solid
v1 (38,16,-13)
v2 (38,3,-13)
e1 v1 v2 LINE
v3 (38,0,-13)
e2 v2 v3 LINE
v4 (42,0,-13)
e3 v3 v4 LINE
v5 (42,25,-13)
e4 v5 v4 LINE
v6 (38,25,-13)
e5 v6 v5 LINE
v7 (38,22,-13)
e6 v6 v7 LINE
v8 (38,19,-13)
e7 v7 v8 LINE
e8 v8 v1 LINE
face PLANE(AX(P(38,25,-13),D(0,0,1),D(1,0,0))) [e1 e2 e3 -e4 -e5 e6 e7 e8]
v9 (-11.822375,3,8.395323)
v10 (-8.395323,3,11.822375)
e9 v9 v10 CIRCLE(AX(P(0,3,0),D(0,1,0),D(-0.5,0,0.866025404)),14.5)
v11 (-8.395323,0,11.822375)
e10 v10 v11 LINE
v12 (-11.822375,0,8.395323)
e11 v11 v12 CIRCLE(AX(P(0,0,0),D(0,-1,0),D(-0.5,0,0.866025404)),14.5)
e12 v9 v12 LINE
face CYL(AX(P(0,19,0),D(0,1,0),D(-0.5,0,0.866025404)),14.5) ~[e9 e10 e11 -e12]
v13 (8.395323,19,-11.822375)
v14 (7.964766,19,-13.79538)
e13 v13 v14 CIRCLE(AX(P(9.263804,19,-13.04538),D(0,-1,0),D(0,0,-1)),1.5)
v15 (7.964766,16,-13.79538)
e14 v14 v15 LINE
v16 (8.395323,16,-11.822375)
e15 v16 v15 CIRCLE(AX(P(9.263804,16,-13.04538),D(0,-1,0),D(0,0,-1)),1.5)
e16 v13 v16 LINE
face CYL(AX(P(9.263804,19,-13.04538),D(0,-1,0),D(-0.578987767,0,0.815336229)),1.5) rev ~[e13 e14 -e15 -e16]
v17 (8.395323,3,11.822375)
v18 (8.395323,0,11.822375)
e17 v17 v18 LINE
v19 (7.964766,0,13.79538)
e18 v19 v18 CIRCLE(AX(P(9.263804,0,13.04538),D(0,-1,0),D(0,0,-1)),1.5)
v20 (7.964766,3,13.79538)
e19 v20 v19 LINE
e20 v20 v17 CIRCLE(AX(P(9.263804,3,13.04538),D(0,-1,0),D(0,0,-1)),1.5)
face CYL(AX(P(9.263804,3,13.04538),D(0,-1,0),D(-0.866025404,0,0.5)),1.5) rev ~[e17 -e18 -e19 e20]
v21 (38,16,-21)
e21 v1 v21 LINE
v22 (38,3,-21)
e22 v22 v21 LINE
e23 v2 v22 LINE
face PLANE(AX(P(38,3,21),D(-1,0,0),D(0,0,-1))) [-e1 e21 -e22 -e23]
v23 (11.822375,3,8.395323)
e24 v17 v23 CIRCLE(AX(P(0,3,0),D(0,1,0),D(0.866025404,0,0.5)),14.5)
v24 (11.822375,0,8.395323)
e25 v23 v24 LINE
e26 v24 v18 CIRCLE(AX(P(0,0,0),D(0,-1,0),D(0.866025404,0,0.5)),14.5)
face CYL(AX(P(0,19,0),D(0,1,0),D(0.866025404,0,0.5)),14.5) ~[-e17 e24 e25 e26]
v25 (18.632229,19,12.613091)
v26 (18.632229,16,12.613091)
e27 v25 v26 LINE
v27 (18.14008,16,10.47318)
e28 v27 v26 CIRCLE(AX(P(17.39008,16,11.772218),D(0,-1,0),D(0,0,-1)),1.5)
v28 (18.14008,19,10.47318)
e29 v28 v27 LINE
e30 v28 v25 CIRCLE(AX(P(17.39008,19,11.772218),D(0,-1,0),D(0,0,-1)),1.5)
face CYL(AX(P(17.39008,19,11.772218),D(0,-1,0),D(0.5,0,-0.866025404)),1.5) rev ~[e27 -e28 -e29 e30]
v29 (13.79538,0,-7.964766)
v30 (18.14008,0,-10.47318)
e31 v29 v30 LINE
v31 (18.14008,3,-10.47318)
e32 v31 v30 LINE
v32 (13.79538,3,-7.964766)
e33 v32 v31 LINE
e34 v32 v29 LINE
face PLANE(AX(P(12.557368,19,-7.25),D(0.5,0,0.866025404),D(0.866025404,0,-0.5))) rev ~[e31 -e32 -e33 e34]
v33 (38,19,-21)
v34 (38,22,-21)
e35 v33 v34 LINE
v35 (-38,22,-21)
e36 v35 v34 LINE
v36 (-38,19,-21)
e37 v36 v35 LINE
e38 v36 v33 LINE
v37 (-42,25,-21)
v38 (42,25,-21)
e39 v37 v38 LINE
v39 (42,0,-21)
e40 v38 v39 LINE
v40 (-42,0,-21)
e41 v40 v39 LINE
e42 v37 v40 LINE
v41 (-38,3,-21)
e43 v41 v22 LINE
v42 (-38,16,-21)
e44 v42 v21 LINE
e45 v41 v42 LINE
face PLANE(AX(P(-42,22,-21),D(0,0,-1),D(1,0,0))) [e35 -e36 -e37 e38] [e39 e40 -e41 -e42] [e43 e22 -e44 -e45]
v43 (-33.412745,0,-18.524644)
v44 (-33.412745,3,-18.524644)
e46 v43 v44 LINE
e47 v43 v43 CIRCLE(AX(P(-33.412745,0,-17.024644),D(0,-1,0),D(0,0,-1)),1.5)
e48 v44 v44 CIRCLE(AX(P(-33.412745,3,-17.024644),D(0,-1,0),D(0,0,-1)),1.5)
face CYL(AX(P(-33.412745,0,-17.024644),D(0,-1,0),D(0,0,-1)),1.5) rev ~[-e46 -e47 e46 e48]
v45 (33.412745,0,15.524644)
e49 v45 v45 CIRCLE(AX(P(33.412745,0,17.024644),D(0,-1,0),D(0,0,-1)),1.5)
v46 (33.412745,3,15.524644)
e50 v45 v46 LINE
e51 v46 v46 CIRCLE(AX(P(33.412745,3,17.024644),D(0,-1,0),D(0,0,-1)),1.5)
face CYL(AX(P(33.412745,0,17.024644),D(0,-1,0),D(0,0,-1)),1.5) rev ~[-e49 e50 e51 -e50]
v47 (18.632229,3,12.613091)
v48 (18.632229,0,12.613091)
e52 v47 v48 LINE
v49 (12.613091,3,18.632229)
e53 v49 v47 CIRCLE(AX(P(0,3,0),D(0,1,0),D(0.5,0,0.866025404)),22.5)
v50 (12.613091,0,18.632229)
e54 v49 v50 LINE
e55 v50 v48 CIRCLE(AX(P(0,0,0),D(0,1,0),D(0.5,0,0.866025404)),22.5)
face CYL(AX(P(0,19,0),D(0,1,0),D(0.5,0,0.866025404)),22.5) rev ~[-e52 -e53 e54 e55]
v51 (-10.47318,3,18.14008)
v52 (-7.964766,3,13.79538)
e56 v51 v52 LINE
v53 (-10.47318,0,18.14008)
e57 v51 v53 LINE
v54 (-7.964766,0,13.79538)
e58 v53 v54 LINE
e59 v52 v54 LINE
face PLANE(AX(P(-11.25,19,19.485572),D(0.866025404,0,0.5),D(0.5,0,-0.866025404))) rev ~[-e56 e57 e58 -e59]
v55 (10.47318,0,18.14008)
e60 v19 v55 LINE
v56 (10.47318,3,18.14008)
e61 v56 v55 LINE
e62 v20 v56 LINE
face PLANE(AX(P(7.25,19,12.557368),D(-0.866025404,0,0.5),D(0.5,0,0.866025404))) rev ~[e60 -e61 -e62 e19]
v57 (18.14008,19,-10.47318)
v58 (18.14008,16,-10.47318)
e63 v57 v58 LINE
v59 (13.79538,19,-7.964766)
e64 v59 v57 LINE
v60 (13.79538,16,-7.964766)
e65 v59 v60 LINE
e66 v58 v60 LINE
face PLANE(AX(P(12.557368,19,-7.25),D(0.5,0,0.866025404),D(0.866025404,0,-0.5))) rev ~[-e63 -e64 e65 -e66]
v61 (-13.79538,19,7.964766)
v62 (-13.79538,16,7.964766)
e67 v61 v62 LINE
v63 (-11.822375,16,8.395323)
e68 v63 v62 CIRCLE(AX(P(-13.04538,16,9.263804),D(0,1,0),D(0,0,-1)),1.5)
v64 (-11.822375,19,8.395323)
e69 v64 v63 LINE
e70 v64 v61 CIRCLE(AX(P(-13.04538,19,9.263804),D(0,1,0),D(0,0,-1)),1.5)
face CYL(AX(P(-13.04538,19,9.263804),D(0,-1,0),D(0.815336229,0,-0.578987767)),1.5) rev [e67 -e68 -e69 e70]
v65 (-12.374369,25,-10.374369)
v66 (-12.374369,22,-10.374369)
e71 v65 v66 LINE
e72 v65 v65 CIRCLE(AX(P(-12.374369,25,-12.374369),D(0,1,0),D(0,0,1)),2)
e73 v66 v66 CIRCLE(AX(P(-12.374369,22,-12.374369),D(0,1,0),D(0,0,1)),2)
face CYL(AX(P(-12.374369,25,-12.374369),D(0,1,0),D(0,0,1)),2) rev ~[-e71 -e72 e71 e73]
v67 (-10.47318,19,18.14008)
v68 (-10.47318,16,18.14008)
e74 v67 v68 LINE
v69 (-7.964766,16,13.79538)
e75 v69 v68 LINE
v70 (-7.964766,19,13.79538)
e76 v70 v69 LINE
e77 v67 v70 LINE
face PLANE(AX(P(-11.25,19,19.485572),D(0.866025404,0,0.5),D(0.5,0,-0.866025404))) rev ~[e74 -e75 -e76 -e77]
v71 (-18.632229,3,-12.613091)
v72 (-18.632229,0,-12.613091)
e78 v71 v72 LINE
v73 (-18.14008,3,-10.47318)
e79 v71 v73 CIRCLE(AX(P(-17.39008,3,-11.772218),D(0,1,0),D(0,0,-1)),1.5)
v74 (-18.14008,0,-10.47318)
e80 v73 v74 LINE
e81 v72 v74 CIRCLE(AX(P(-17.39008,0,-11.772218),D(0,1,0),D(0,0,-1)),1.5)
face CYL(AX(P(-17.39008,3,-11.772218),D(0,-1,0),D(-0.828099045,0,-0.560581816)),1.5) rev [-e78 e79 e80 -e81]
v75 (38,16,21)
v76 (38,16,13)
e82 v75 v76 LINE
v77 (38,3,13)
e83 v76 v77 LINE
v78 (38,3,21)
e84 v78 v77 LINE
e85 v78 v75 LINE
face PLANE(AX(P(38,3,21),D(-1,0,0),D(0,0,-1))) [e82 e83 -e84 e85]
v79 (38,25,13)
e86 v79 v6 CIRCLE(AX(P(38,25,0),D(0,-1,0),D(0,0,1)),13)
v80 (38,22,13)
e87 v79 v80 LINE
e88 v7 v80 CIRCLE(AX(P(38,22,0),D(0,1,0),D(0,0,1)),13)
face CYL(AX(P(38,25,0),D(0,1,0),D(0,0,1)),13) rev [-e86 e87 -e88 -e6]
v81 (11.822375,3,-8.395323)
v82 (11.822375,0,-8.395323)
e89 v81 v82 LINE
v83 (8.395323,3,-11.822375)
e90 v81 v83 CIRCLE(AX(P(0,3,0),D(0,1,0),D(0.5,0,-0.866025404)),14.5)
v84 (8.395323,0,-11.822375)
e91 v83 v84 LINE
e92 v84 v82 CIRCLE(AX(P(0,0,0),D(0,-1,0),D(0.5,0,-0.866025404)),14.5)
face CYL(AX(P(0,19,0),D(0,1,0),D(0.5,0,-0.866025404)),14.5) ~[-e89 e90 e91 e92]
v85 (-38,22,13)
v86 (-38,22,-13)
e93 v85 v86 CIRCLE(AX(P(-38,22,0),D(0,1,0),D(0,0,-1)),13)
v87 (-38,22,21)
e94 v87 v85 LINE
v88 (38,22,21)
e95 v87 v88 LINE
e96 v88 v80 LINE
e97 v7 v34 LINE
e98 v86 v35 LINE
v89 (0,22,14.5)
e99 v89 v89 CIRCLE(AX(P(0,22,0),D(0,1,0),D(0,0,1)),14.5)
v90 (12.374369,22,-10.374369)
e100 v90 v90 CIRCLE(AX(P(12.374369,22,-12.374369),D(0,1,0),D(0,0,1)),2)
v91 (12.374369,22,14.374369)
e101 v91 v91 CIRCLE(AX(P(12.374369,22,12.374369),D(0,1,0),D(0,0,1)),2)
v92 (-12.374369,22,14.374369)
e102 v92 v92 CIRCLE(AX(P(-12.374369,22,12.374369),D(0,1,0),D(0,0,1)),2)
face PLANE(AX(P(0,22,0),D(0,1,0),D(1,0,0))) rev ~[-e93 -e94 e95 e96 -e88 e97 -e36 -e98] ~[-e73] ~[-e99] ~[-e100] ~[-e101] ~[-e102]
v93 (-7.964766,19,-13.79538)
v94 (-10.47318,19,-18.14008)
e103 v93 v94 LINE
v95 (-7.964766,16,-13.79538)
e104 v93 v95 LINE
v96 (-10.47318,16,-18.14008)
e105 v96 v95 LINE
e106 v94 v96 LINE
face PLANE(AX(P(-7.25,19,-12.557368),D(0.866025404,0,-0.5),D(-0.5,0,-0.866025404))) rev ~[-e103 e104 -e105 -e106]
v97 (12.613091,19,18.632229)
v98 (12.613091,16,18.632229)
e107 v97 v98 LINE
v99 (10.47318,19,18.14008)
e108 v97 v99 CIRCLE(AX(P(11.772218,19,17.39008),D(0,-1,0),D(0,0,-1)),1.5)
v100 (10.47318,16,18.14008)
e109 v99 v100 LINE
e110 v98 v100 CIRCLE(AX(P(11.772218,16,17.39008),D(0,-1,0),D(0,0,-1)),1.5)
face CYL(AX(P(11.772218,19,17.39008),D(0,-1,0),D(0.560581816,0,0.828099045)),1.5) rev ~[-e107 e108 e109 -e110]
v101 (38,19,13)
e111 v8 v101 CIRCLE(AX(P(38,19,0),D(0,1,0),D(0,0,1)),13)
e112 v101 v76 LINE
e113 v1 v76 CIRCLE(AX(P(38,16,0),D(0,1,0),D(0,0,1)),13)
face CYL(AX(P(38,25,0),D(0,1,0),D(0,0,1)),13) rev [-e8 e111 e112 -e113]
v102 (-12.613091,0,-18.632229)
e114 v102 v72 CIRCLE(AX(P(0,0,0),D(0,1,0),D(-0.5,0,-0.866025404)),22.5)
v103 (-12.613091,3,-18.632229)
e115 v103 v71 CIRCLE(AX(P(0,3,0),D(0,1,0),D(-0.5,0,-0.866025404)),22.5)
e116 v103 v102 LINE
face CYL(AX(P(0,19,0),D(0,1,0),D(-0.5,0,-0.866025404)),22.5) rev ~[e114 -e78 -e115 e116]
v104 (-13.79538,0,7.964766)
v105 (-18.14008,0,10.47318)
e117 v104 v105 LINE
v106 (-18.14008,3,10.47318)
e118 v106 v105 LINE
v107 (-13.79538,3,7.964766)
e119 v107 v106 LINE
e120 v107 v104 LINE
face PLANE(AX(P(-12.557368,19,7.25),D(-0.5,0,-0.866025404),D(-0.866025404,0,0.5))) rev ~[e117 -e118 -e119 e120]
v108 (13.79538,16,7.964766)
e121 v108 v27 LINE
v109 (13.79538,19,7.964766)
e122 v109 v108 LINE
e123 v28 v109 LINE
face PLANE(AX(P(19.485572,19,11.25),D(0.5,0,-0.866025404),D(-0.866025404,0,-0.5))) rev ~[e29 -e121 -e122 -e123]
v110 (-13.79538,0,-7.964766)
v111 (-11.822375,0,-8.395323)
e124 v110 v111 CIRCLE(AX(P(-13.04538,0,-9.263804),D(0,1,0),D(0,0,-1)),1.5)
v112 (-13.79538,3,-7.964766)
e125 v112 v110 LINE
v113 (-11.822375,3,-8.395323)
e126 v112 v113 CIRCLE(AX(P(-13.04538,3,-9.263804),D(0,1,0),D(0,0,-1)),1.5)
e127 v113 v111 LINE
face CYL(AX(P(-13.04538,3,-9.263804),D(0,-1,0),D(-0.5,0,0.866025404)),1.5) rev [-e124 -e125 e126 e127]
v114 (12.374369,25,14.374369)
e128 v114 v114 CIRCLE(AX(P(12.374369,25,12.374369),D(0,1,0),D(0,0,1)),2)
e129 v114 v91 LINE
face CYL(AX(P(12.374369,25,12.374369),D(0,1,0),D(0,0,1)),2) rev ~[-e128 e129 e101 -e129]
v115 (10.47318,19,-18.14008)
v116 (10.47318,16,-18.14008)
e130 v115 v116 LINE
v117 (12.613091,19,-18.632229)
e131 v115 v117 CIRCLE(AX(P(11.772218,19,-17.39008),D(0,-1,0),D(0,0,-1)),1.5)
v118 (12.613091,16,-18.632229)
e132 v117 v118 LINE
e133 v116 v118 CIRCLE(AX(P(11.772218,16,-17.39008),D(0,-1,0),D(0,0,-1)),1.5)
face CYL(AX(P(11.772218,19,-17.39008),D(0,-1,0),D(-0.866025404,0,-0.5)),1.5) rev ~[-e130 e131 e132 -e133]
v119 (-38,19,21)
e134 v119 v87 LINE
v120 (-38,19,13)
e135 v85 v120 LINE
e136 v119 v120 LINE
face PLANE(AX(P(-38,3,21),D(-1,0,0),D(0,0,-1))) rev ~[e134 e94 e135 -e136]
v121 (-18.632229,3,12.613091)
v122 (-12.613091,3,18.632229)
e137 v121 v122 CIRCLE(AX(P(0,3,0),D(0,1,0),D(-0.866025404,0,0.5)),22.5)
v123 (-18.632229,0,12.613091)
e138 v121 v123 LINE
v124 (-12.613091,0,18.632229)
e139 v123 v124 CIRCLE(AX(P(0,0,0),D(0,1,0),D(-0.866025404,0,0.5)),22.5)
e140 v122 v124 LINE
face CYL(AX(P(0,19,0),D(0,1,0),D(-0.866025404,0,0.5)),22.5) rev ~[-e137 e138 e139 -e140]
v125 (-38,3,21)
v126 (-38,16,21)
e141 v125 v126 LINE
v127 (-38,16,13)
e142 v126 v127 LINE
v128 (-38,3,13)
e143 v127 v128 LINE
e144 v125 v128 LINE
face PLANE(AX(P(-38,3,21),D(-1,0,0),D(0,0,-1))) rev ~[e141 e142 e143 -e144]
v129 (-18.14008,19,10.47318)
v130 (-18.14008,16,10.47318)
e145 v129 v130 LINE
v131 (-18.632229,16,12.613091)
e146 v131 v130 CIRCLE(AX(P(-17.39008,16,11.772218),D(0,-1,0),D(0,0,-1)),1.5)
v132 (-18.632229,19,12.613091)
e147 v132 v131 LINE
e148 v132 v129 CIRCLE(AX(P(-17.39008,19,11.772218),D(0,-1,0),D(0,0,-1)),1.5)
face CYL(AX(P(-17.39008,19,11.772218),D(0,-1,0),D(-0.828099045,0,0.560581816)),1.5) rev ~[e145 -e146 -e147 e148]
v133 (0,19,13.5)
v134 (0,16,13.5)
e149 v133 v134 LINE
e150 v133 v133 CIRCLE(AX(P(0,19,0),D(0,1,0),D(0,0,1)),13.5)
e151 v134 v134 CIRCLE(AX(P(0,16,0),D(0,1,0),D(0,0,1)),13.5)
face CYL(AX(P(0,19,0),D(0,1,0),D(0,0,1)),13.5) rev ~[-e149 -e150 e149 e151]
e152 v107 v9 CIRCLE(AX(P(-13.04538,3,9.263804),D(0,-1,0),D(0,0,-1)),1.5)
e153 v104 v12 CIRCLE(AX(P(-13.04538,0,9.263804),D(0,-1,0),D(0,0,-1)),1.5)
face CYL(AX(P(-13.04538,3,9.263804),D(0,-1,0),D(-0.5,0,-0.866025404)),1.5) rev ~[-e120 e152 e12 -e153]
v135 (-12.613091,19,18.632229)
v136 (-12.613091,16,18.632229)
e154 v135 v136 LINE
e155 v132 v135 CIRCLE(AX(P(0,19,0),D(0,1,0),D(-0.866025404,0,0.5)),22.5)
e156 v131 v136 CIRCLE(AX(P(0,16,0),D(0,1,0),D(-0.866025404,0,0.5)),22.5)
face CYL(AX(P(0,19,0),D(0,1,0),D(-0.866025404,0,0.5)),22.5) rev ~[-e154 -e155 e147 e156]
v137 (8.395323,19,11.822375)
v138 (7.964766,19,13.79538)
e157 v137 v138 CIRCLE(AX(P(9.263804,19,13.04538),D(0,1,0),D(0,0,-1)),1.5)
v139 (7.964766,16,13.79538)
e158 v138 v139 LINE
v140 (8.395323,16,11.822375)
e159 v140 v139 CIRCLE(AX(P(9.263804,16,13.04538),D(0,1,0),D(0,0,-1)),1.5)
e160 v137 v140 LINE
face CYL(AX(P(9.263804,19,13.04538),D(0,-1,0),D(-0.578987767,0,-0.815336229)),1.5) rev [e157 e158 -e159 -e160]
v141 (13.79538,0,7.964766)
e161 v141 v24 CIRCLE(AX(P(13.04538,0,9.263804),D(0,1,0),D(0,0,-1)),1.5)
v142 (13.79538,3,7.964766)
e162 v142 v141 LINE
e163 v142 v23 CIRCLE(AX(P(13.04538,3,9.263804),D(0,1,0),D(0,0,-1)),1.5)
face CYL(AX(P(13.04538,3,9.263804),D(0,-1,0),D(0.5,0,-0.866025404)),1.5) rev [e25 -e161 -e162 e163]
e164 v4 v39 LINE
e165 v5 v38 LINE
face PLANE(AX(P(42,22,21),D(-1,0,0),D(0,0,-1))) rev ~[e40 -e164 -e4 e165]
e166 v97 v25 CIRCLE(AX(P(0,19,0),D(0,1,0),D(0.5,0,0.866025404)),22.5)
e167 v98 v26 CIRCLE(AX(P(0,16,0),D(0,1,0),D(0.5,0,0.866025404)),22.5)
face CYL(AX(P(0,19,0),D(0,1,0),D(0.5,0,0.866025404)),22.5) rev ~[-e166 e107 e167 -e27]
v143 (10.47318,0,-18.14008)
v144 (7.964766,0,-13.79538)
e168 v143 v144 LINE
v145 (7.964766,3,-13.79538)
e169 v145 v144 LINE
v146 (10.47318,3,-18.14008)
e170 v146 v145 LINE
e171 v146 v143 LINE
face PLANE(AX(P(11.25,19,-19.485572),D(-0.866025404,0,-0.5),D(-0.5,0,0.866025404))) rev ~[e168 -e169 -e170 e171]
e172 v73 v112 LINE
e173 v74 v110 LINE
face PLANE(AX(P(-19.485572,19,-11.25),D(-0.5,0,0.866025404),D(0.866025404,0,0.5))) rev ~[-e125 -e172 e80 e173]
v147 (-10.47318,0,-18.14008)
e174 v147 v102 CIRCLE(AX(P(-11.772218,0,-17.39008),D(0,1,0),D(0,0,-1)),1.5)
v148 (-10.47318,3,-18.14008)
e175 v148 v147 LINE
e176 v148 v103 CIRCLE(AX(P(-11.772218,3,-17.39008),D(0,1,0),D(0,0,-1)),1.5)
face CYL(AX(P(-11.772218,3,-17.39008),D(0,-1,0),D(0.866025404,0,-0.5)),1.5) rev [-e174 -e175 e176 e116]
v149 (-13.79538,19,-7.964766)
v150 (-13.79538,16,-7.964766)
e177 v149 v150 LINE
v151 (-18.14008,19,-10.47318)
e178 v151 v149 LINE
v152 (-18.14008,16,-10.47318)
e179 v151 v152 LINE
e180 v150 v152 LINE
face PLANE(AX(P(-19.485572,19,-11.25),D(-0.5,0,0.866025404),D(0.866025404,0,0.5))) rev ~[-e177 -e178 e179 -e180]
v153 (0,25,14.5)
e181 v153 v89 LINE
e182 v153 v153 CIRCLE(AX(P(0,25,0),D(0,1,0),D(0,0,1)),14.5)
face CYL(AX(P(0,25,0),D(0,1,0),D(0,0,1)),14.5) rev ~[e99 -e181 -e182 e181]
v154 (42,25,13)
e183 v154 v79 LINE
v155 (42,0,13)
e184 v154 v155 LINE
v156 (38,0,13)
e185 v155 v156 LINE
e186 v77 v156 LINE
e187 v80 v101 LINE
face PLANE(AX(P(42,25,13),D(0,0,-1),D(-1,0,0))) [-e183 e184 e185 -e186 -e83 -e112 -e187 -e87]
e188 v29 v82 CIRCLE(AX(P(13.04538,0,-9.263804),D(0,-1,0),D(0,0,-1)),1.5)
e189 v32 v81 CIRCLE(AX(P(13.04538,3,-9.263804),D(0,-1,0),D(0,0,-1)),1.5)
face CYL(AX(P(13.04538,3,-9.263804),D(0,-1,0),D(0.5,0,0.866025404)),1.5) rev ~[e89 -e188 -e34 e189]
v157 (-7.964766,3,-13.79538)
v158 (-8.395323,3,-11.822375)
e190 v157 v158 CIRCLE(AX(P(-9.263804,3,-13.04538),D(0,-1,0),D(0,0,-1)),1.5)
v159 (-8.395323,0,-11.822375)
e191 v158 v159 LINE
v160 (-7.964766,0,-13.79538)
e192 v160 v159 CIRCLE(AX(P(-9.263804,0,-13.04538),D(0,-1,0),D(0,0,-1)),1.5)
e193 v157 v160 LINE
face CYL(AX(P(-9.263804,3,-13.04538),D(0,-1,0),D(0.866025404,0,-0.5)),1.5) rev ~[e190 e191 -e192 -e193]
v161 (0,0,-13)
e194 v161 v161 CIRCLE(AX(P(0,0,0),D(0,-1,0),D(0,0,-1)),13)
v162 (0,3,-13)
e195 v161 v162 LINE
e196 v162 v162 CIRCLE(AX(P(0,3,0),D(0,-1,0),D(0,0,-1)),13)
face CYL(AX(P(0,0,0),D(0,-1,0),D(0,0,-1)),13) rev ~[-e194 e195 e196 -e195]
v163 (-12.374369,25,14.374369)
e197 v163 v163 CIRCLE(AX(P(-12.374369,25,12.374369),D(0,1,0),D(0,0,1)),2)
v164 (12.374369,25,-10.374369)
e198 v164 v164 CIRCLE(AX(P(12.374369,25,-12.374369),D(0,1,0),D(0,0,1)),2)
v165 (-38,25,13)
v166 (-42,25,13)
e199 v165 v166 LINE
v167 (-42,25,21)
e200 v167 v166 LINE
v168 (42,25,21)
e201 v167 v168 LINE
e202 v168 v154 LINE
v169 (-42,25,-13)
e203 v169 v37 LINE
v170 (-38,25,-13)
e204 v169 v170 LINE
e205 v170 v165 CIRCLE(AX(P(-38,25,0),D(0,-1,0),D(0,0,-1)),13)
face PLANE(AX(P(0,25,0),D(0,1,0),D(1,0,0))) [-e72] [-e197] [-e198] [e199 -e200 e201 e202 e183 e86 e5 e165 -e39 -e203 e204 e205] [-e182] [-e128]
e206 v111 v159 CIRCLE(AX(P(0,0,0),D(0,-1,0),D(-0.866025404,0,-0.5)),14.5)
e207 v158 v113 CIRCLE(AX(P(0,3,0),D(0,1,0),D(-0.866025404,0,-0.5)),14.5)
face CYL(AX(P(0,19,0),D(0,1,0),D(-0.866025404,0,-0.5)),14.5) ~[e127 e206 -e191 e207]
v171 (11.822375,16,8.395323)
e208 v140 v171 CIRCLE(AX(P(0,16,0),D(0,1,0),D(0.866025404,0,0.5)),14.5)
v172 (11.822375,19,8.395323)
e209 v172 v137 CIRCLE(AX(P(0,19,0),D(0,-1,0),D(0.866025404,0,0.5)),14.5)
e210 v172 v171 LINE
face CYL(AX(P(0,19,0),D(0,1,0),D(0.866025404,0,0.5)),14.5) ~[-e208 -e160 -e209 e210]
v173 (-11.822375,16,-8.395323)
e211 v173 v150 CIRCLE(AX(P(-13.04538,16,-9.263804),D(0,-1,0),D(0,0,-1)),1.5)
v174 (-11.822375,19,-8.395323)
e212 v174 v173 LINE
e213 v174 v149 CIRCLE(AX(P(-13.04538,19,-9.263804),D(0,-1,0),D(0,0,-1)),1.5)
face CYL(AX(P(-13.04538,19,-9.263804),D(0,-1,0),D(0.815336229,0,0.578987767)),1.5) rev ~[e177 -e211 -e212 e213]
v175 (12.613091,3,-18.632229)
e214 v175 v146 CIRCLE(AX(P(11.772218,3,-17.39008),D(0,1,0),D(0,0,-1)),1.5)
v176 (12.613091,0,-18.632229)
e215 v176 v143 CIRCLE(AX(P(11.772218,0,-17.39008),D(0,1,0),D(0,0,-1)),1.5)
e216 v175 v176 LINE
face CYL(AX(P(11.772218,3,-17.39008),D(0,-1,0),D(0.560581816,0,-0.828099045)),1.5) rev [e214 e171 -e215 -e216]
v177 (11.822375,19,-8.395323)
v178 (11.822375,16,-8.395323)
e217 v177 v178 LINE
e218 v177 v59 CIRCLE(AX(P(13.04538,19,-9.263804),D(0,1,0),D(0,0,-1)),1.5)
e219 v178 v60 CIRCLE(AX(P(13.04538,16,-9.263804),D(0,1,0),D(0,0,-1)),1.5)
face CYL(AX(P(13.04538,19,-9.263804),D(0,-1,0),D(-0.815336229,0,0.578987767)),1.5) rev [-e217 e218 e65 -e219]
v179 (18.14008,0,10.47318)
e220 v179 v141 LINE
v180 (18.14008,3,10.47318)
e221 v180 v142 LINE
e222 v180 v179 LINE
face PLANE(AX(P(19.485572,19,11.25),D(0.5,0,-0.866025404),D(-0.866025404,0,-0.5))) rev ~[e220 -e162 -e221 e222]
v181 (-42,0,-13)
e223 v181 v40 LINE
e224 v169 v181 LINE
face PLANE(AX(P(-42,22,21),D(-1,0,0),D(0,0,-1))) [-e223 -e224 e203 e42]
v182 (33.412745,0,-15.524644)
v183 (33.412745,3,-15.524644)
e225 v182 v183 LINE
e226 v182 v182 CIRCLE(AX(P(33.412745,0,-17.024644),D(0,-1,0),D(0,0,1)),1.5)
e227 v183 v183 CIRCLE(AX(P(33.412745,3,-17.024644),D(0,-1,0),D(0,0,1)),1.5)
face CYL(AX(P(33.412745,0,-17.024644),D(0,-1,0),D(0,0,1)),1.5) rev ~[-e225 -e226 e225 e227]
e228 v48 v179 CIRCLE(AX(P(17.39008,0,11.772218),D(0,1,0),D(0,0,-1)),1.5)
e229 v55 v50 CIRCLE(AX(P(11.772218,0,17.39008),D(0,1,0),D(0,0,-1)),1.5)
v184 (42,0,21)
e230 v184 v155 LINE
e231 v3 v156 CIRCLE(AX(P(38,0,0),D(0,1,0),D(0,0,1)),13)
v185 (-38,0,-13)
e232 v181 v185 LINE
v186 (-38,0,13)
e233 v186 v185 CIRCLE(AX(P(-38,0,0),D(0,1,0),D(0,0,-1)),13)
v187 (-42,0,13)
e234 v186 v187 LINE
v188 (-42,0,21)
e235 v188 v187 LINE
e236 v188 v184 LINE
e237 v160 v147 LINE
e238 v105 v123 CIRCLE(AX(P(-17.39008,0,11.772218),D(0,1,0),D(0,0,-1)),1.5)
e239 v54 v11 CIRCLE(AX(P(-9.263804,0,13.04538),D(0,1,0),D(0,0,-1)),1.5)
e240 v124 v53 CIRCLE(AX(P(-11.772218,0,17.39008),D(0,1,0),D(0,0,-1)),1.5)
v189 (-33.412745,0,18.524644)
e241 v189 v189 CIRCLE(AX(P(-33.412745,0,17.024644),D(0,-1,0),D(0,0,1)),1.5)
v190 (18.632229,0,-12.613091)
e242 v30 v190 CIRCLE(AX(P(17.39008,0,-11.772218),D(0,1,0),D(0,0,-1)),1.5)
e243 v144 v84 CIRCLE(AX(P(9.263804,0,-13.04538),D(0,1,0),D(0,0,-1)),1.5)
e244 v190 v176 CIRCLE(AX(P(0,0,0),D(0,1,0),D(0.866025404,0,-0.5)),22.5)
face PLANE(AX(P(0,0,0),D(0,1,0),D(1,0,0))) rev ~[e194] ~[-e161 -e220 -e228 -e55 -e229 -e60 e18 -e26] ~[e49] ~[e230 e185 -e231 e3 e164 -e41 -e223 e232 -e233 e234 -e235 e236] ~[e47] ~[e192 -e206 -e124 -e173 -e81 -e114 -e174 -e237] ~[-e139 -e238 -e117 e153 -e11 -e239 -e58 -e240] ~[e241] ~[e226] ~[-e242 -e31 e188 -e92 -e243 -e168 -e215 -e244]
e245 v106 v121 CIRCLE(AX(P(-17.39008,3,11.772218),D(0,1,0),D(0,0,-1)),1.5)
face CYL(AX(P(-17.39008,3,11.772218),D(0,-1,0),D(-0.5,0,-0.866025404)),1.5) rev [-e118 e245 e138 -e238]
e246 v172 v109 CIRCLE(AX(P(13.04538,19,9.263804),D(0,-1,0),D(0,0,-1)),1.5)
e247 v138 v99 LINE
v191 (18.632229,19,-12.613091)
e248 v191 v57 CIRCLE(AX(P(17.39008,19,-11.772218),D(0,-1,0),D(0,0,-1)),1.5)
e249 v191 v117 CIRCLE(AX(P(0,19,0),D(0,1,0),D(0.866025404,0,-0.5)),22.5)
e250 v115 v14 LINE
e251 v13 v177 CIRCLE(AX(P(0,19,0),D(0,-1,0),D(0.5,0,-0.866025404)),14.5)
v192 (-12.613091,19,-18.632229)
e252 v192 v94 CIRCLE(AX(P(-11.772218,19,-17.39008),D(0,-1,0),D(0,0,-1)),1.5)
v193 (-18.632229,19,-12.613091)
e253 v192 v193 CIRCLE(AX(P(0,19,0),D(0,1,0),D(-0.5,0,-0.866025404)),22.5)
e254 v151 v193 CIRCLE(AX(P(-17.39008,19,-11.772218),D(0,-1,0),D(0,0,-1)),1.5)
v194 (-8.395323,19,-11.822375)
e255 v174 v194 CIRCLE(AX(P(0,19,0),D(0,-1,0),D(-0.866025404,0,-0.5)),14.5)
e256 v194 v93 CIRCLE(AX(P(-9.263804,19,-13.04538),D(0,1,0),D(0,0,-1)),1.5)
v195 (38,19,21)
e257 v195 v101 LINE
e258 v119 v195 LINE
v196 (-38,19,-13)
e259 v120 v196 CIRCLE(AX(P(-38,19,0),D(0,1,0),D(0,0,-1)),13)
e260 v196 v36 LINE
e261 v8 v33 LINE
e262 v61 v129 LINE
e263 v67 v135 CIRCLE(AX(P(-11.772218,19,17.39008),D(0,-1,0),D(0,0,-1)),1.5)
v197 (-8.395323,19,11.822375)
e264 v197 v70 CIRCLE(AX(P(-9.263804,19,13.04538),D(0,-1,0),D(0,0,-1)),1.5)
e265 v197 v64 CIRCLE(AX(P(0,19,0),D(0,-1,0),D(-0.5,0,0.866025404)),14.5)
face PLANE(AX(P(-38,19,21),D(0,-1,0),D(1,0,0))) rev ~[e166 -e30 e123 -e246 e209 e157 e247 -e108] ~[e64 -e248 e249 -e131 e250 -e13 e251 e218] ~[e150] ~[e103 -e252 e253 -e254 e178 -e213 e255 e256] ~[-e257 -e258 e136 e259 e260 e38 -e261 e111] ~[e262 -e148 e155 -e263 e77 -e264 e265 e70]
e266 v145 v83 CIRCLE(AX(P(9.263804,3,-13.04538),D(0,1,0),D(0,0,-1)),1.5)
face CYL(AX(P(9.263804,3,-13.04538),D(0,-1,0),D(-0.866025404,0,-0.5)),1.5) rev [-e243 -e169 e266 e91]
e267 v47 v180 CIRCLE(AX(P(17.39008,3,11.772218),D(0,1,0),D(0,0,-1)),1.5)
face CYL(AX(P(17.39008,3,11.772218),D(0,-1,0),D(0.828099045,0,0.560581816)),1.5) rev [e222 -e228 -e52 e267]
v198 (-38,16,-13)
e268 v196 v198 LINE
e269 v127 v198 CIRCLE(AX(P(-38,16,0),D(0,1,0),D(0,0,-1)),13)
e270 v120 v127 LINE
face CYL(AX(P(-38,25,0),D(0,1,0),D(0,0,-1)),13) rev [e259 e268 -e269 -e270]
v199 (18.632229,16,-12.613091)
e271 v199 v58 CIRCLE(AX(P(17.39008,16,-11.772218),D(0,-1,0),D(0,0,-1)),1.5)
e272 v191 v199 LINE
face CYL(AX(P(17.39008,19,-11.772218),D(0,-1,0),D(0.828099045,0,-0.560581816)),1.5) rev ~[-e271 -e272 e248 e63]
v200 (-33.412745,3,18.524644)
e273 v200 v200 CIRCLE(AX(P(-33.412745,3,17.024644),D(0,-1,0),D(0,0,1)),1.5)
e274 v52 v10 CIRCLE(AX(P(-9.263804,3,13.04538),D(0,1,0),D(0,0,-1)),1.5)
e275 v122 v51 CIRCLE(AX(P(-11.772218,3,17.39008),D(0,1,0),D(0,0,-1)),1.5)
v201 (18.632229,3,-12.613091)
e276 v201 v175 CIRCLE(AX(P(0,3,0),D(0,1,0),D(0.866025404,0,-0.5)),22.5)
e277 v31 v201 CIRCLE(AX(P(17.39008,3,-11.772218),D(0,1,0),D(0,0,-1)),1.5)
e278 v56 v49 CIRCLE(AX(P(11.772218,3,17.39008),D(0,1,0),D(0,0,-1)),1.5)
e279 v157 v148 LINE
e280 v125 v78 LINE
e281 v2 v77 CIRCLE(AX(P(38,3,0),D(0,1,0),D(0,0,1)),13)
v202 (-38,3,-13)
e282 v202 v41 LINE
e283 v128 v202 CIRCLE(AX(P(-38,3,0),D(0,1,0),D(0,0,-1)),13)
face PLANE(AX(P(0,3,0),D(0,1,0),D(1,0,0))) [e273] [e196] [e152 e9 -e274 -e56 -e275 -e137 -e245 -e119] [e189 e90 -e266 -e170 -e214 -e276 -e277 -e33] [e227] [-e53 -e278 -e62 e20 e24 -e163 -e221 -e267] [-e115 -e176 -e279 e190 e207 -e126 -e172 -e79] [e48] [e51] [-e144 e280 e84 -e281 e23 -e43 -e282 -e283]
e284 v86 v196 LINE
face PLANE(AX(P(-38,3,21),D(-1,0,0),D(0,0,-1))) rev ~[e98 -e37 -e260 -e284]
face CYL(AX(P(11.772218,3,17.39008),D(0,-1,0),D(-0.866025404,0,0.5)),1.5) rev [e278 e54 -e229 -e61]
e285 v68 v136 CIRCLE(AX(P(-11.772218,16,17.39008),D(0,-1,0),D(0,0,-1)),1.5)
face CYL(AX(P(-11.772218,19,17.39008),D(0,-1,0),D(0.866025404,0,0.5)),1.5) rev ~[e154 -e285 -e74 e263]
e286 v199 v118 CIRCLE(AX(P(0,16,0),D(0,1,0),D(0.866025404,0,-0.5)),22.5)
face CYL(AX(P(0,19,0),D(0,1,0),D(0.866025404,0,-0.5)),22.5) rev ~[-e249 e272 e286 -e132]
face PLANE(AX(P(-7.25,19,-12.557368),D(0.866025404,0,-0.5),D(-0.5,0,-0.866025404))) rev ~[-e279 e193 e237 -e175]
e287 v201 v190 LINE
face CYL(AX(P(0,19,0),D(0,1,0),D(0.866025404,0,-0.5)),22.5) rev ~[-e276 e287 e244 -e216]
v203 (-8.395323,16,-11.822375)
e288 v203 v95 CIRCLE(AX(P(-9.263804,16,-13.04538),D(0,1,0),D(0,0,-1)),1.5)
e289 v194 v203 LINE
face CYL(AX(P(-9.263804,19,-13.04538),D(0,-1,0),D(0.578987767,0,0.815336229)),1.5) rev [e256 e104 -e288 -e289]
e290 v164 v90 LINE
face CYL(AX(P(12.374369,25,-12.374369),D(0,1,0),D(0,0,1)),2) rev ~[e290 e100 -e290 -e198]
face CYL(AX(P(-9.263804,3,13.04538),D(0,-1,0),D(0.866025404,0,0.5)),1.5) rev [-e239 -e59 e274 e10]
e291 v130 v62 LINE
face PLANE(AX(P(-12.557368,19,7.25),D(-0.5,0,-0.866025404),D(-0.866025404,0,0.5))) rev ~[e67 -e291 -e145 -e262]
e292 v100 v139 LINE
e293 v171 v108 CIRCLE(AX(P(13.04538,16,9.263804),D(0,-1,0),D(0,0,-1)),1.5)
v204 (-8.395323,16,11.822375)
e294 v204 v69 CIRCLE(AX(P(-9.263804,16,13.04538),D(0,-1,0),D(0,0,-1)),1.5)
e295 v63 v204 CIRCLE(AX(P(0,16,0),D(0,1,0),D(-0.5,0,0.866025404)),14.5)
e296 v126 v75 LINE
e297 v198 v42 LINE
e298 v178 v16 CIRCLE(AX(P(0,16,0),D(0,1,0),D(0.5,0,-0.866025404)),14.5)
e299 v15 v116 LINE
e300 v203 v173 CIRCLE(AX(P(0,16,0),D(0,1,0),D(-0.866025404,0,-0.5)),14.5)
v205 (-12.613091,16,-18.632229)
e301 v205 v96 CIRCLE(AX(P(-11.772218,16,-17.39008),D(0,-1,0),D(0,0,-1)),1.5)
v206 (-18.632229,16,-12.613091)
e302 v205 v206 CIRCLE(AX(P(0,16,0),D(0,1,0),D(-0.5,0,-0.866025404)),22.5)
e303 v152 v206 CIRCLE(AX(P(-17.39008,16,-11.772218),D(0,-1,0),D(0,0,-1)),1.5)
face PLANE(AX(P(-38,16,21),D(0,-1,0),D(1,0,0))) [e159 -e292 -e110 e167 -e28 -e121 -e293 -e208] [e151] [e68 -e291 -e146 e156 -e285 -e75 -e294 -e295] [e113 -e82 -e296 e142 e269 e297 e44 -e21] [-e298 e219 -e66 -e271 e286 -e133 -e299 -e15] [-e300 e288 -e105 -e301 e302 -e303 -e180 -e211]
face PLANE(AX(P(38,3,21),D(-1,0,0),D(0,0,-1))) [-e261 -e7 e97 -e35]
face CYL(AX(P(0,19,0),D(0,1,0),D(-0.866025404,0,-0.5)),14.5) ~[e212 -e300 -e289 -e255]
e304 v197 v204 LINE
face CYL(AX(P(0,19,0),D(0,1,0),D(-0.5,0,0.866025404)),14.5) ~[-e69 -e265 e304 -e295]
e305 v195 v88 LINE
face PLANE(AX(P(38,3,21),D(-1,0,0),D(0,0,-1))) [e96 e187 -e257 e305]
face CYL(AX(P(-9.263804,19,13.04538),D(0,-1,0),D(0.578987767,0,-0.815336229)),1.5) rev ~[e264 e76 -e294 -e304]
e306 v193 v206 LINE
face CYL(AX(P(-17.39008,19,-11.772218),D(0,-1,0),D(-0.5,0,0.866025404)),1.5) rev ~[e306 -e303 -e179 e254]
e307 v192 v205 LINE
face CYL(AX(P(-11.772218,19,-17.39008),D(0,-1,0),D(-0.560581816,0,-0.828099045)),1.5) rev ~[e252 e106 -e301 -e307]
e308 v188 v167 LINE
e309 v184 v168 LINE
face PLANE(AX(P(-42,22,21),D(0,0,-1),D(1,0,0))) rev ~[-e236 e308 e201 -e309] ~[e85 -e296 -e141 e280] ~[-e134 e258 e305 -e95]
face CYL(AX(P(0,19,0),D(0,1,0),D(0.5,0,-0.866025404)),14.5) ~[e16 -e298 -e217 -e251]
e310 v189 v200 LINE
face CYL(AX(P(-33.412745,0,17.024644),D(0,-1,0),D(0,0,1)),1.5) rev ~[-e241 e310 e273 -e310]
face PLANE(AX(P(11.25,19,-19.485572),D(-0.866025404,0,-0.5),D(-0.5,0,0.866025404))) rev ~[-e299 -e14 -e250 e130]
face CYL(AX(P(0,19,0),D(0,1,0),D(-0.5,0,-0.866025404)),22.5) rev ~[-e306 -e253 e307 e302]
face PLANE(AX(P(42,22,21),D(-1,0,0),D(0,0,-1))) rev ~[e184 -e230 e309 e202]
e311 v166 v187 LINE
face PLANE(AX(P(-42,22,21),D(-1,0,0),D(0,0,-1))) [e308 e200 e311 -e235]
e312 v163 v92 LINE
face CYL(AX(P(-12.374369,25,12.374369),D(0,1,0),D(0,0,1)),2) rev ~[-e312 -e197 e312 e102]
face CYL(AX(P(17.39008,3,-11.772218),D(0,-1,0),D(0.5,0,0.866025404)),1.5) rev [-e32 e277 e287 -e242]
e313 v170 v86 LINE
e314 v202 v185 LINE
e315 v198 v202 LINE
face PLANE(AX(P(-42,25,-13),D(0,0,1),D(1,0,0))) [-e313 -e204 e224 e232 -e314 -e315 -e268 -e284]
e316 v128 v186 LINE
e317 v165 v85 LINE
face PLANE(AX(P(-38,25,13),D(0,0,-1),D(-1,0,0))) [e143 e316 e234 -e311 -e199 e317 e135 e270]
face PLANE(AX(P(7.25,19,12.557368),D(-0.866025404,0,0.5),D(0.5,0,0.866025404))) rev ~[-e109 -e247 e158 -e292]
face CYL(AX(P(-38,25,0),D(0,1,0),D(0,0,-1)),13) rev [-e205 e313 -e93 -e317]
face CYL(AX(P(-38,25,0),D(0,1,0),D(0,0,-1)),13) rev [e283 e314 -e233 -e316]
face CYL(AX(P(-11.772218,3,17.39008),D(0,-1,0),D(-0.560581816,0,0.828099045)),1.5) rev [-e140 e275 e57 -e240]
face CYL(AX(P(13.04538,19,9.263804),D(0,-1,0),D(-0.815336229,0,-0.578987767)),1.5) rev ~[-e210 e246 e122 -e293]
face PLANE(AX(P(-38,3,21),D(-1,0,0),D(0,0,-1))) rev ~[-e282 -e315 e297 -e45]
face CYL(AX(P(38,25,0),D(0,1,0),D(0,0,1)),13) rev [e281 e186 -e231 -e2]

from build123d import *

# Parameters (mm, degrees)
SKETCH_1_W          = 84
SKETCH_1_H          = 42
EXTRUDE_1_DEPTH     = 3
SKETCH_2_W          = 4
SKETCH_2_H          = 42
EXTRUDE_2_DEPTH     = 19
SKETCH_3_W          = 84
SKETCH_3_H          = 42
EXTRUDE_3_DEPTH     = 3
SKETCH_5_W          = 76
SKETCH_5_H          = 3
EXTRUDE_4_DEPTH     = 42
CUT_EXTRUDE_1_REACH = 55.198
SKETCH_4_R          = 14.5
SKETCH_4_R_2        = 2
SKETCH_6_R          = 13.5
CUT_EXTRUDE_2_DEPTH = 3
SKETCH_7_R          = 13
CUT_EXTRUDE_3_DEPTH = 3
CUT_EXTRUDE_4_DEPTH = 54.197744313
SKETCH_9_R          = 1.5
CUT_EXTRUDE_5_DEPTH = 3
CUT_EXTRUDE_START   = -19
CUT_EXTRUDE_6_DEPTH = 19
FILLET_1_R          = 1.5


with BuildPart() as part:
    # 草图1 → 凸台-拉伸1 (new body)
    with BuildSketch(Plane(origin=(0, 0, 0), x_dir=(1, 0, 0), z_dir=(0, 1, 0))):
        Rectangle(SKETCH_1_W, SKETCH_1_H)
    extrude(amount=EXTRUDE_1_DEPTH)

    # 草图2 → 凸台-拉伸2 (add)
    with BuildSketch(Plane(origin=(0, 3, 0), x_dir=(1, 0, 0), z_dir=(0, 1, 0))):
        with Locations((-40, 0)):
            Rectangle(SKETCH_2_W, SKETCH_2_H)
        with Locations((40, 0)):
            Rectangle(SKETCH_2_W, SKETCH_2_H)
    extrude(amount=EXTRUDE_2_DEPTH)

    # 草图3 → 凸台-拉伸3 (add)
    with BuildSketch(Plane(origin=(0, 22, 0), x_dir=(1, 0, 0), z_dir=(0, 1, 0))):
        Rectangle(SKETCH_3_W, SKETCH_3_H)
    extrude(amount=EXTRUDE_3_DEPTH)

    # 草图5 → 凸台-拉伸4 (add)
    with BuildSketch(Plane.XY.offset(21)):
        with Locations((0, 17.5)):
            Rectangle(SKETCH_5_W, SKETCH_5_H)
    extrude(amount=-EXTRUDE_4_DEPTH)

    # 草图4 → 切除-拉伸1 (cut, up to next)
    with BuildSketch(Plane(origin=(0, 25, 0), x_dir=(1, 0, 0), z_dir=(0, 1, 0)), mode=Mode.PRIVATE) as cut_extrude_1_sk1:
        with Locations(Location((0, 0, 0), (0, 0, 270))):
            Circle(SKETCH_4_R)
    cut_extrude_1_tool1 = extrude(cut_extrude_1_sk1.sketch, amount=-CUT_EXTRUDE_1_REACH, mode=Mode.PRIVATE) & part.part
    # 草图4 → 切除-拉伸1 (cut, up to next)
    with BuildSketch(Plane(origin=(0, 25, 0), x_dir=(1, 0, 0), z_dir=(0, 1, 0)), mode=Mode.PRIVATE) as cut_extrude_1_sk2:
        with Locations(Location((12.374368671, 12.374368671, 0), (0, 0, 270))):
            Circle(SKETCH_4_R_2)
    cut_extrude_1_tool2 = extrude(cut_extrude_1_sk2.sketch, amount=-CUT_EXTRUDE_1_REACH, mode=Mode.PRIVATE) & part.part
    # 草图4 → 切除-拉伸1 (cut, up to next)
    with BuildSketch(Plane(origin=(0, 25, 0), x_dir=(1, 0, 0), z_dir=(0, 1, 0)), mode=Mode.PRIVATE) as cut_extrude_1_sk3:
        with Locations(Location((12.374368671, -12.374368671, 0), (0, 0, 270))):
            Circle(SKETCH_4_R_2)
    cut_extrude_1_tool3 = extrude(cut_extrude_1_sk3.sketch, amount=-CUT_EXTRUDE_1_REACH, mode=Mode.PRIVATE) & part.part
    # 草图4 → 切除-拉伸1 (cut, up to next)
    with BuildSketch(Plane(origin=(0, 25, 0), x_dir=(1, 0, 0), z_dir=(0, 1, 0)), mode=Mode.PRIVATE) as cut_extrude_1_sk4:
        with Locations(Location((-12.374368671, -12.374368671, 0), (0, 0, 270))):
            Circle(SKETCH_4_R_2)
    cut_extrude_1_tool4 = extrude(cut_extrude_1_sk4.sketch, amount=-CUT_EXTRUDE_1_REACH, mode=Mode.PRIVATE) & part.part
    # 草图4 → 切除-拉伸1 (cut, up to next)
    with BuildSketch(Plane(origin=(0, 25, 0), x_dir=(1, 0, 0), z_dir=(0, 1, 0)), mode=Mode.PRIVATE) as cut_extrude_1_sk5:
        with Locations(Location((-12.374368671, 12.374368671, 0), (0, 0, 270))):
            Circle(SKETCH_4_R_2)
    cut_extrude_1_tool5 = extrude(cut_extrude_1_sk5.sketch, amount=-CUT_EXTRUDE_1_REACH, mode=Mode.PRIVATE) & part.part
    add(cut_extrude_1_tool1.solids().sort_by_distance((0, 25, 0))[0], mode=Mode.SUBTRACT)
    add(cut_extrude_1_tool2.solids().sort_by_distance((12.374369, 25, -12.374369))[0], mode=Mode.SUBTRACT)
    add(cut_extrude_1_tool3.solids().sort_by_distance((12.374369, 25, 12.374369))[0], mode=Mode.SUBTRACT)
    add(cut_extrude_1_tool4.solids().sort_by_distance((-12.374369, 25, 12.374369))[0], mode=Mode.SUBTRACT)
    add(cut_extrude_1_tool5.solids().sort_by_distance((-12.374369, 25, -12.374369))[0], mode=Mode.SUBTRACT)

    # 草图6 → 切除-拉伸2 (cut)
    with BuildSketch(Plane(origin=(0, 19, 0), x_dir=(1, 0, 0), z_dir=(0, 1, 0))):
        with Locations(Location((0, 0, 0), (0, 0, 270))):
            Circle(SKETCH_6_R)
    extrude(amount=-CUT_EXTRUDE_2_DEPTH, mode=Mode.SUBTRACT)

    # 草图7 → 切除-拉伸3 (cut)
    with BuildSketch(Plane.XZ):
        with Locations(Location((0, 0, 0), (0, 0, 270))):
            Circle(SKETCH_7_R)
    extrude(amount=-CUT_EXTRUDE_3_DEPTH, mode=Mode.SUBTRACT)

    # 草图8 → 切除-拉伸4 (cut, through all)
    with BuildSketch(Plane(origin=(0, 25, 0), x_dir=(1, 0, 0), z_dir=(0, 1, 0))):
        with BuildLine():
            Line((42, -13), (38, -13))
            ThreePointArc((38, -13), (25, 0), (38, 13))
            Line((38, 13), (42, 13))
            Line((42, 13), (42, -13))
        make_face()
        with BuildLine():
            Line((-42, 13), (-38, 13))
            ThreePointArc((-38, 13), (-25, 0), (-38, -13))
            Line((-38, -13), (-42, -13))
            Line((-42, -13), (-42, 13))
        make_face()
    extrude(amount=-CUT_EXTRUDE_4_DEPTH, mode=Mode.SUBTRACT)

    # 草图9 → 切除-拉伸5 (cut)
    with BuildSketch(Plane.XZ):
        with Locations(Location((33.412744657, 17.02464374, 0), (0, 0, 270))):
            Circle(SKETCH_9_R)
        with Locations(Location((-33.412744657, 17.02464374, 0), (0, 0, 90))):
            Circle(SKETCH_9_R)
        with Locations(Location((33.412744657, -17.02464374, 0), (0, 0, 90))):
            Circle(SKETCH_9_R)
        with Locations(Location((-33.412744657, -17.02464374, 0), (0, 0, 270))):
            Circle(SKETCH_9_R)
    extrude(amount=-CUT_EXTRUDE_5_DEPTH, mode=Mode.SUBTRACT)

    # 草图10 → 切除-拉伸6 (cut)
    with BuildSketch(Plane.XZ.offset(CUT_EXTRUDE_START)):
        with BuildLine():
            Line((7.25, 12.557368355), (11.25, 19.485571585))
            ThreePointArc((11.25, 19.485571585), (15.909902577, 15.909902577), (19.485571585, 11.25))
            Line((19.485571585, 11.25), (12.557368355, 7.25))
            ThreePointArc((12.557368355, 7.25), (10.253048327, 10.253048327), (7.25, 12.557368355))
        make_face()
        with BuildLine():
            Line((12.557368355, -7.25), (19.485571585, -11.25))
            ThreePointArc((19.485571585, -11.25), (15.909902577, -15.909902577), (11.25, -19.485571585))
            Line((11.25, -19.485571585), (7.25, -12.557368355))
            ThreePointArc((7.25, -12.557368355), (10.253048327, -10.253048327), (12.557368355, -7.25))
        make_face()
        with BuildLine():
            Line((-7.25, -12.557368355), (-11.25, -19.485571585))
            ThreePointArc((-11.25, -19.485571585), (-15.909902577, -15.909902577), (-19.485571585, -11.25))
            Line((-19.485571585, -11.25), (-12.557368355, -7.25))
            ThreePointArc((-12.557368355, -7.25), (-10.253048327, -10.253048327), (-7.25, -12.557368355))
        make_face()
        with BuildLine():
            Line((-12.557368355, 7.25), (-19.485571585, 11.25))
            ThreePointArc((-19.485571585, 11.25), (-15.909902577, 15.909902577), (-11.25, 19.485571585))
            Line((-11.25, 19.485571585), (-7.25, 12.557368355))
            ThreePointArc((-7.25, 12.557368355), (-10.253048327, 10.253048327), (-12.557368355, 7.25))
        make_face()
    extrude(amount=CUT_EXTRUDE_6_DEPTH, mode=Mode.SUBTRACT)

    # 圆角1
    fillet_1_edges = [part.edges().sort_by_distance(p)[0] for p in [
        (-11.25, 1.5, 19.485571585),
        (-19.485571585, 1.5, 11.25),
        (-12.557368355, 1.5, 7.25),
        (-7.25, 1.5, 12.557368355),
        (-11.25, 17.5, 19.485571585),
        (-19.485571585, 17.5, 11.25),
        (-12.557368355, 17.5, 7.25),
        (-7.25, 17.5, 12.557368355),
        (-19.485571585, 1.5, -11.25),
        (-11.25, 1.5, -19.485571585),
        (-7.25, 1.5, -12.557368355),
        (-12.557368355, 1.5, -7.25),
        (-19.485571585, 17.5, -11.25),
        (-11.25, 17.5, -19.485571585),
        (-7.25, 17.5, -12.557368355),
        (-12.557368355, 17.5, -7.25),
        (11.25, 1.5, -19.485571585),
        (19.485571585, 1.5, -11.25),
        (12.557368355, 1.5, -7.25),
        (7.25, 1.5, -12.557368355),
        (11.25, 17.5, -19.485571585),
        (19.485571585, 17.5, -11.25),
        (12.557368355, 17.5, -7.25),
        (7.25, 17.5, -12.557368355),
        (19.485571585, 1.5, 11.25),
        (11.25, 1.5, 19.485571585),
        (7.25, 1.5, 12.557368355),
        (12.557368355, 1.5, 7.25),
        (19.485571585, 17.5, 11.25),
        (11.25, 17.5, 19.485571585),
        (7.25, 17.5, 12.557368355),
        (12.557368355, 17.5, 7.25),
    ]]
    fillet(fillet_1_edges, radius=FILLET_1_R)


solid = part.part
